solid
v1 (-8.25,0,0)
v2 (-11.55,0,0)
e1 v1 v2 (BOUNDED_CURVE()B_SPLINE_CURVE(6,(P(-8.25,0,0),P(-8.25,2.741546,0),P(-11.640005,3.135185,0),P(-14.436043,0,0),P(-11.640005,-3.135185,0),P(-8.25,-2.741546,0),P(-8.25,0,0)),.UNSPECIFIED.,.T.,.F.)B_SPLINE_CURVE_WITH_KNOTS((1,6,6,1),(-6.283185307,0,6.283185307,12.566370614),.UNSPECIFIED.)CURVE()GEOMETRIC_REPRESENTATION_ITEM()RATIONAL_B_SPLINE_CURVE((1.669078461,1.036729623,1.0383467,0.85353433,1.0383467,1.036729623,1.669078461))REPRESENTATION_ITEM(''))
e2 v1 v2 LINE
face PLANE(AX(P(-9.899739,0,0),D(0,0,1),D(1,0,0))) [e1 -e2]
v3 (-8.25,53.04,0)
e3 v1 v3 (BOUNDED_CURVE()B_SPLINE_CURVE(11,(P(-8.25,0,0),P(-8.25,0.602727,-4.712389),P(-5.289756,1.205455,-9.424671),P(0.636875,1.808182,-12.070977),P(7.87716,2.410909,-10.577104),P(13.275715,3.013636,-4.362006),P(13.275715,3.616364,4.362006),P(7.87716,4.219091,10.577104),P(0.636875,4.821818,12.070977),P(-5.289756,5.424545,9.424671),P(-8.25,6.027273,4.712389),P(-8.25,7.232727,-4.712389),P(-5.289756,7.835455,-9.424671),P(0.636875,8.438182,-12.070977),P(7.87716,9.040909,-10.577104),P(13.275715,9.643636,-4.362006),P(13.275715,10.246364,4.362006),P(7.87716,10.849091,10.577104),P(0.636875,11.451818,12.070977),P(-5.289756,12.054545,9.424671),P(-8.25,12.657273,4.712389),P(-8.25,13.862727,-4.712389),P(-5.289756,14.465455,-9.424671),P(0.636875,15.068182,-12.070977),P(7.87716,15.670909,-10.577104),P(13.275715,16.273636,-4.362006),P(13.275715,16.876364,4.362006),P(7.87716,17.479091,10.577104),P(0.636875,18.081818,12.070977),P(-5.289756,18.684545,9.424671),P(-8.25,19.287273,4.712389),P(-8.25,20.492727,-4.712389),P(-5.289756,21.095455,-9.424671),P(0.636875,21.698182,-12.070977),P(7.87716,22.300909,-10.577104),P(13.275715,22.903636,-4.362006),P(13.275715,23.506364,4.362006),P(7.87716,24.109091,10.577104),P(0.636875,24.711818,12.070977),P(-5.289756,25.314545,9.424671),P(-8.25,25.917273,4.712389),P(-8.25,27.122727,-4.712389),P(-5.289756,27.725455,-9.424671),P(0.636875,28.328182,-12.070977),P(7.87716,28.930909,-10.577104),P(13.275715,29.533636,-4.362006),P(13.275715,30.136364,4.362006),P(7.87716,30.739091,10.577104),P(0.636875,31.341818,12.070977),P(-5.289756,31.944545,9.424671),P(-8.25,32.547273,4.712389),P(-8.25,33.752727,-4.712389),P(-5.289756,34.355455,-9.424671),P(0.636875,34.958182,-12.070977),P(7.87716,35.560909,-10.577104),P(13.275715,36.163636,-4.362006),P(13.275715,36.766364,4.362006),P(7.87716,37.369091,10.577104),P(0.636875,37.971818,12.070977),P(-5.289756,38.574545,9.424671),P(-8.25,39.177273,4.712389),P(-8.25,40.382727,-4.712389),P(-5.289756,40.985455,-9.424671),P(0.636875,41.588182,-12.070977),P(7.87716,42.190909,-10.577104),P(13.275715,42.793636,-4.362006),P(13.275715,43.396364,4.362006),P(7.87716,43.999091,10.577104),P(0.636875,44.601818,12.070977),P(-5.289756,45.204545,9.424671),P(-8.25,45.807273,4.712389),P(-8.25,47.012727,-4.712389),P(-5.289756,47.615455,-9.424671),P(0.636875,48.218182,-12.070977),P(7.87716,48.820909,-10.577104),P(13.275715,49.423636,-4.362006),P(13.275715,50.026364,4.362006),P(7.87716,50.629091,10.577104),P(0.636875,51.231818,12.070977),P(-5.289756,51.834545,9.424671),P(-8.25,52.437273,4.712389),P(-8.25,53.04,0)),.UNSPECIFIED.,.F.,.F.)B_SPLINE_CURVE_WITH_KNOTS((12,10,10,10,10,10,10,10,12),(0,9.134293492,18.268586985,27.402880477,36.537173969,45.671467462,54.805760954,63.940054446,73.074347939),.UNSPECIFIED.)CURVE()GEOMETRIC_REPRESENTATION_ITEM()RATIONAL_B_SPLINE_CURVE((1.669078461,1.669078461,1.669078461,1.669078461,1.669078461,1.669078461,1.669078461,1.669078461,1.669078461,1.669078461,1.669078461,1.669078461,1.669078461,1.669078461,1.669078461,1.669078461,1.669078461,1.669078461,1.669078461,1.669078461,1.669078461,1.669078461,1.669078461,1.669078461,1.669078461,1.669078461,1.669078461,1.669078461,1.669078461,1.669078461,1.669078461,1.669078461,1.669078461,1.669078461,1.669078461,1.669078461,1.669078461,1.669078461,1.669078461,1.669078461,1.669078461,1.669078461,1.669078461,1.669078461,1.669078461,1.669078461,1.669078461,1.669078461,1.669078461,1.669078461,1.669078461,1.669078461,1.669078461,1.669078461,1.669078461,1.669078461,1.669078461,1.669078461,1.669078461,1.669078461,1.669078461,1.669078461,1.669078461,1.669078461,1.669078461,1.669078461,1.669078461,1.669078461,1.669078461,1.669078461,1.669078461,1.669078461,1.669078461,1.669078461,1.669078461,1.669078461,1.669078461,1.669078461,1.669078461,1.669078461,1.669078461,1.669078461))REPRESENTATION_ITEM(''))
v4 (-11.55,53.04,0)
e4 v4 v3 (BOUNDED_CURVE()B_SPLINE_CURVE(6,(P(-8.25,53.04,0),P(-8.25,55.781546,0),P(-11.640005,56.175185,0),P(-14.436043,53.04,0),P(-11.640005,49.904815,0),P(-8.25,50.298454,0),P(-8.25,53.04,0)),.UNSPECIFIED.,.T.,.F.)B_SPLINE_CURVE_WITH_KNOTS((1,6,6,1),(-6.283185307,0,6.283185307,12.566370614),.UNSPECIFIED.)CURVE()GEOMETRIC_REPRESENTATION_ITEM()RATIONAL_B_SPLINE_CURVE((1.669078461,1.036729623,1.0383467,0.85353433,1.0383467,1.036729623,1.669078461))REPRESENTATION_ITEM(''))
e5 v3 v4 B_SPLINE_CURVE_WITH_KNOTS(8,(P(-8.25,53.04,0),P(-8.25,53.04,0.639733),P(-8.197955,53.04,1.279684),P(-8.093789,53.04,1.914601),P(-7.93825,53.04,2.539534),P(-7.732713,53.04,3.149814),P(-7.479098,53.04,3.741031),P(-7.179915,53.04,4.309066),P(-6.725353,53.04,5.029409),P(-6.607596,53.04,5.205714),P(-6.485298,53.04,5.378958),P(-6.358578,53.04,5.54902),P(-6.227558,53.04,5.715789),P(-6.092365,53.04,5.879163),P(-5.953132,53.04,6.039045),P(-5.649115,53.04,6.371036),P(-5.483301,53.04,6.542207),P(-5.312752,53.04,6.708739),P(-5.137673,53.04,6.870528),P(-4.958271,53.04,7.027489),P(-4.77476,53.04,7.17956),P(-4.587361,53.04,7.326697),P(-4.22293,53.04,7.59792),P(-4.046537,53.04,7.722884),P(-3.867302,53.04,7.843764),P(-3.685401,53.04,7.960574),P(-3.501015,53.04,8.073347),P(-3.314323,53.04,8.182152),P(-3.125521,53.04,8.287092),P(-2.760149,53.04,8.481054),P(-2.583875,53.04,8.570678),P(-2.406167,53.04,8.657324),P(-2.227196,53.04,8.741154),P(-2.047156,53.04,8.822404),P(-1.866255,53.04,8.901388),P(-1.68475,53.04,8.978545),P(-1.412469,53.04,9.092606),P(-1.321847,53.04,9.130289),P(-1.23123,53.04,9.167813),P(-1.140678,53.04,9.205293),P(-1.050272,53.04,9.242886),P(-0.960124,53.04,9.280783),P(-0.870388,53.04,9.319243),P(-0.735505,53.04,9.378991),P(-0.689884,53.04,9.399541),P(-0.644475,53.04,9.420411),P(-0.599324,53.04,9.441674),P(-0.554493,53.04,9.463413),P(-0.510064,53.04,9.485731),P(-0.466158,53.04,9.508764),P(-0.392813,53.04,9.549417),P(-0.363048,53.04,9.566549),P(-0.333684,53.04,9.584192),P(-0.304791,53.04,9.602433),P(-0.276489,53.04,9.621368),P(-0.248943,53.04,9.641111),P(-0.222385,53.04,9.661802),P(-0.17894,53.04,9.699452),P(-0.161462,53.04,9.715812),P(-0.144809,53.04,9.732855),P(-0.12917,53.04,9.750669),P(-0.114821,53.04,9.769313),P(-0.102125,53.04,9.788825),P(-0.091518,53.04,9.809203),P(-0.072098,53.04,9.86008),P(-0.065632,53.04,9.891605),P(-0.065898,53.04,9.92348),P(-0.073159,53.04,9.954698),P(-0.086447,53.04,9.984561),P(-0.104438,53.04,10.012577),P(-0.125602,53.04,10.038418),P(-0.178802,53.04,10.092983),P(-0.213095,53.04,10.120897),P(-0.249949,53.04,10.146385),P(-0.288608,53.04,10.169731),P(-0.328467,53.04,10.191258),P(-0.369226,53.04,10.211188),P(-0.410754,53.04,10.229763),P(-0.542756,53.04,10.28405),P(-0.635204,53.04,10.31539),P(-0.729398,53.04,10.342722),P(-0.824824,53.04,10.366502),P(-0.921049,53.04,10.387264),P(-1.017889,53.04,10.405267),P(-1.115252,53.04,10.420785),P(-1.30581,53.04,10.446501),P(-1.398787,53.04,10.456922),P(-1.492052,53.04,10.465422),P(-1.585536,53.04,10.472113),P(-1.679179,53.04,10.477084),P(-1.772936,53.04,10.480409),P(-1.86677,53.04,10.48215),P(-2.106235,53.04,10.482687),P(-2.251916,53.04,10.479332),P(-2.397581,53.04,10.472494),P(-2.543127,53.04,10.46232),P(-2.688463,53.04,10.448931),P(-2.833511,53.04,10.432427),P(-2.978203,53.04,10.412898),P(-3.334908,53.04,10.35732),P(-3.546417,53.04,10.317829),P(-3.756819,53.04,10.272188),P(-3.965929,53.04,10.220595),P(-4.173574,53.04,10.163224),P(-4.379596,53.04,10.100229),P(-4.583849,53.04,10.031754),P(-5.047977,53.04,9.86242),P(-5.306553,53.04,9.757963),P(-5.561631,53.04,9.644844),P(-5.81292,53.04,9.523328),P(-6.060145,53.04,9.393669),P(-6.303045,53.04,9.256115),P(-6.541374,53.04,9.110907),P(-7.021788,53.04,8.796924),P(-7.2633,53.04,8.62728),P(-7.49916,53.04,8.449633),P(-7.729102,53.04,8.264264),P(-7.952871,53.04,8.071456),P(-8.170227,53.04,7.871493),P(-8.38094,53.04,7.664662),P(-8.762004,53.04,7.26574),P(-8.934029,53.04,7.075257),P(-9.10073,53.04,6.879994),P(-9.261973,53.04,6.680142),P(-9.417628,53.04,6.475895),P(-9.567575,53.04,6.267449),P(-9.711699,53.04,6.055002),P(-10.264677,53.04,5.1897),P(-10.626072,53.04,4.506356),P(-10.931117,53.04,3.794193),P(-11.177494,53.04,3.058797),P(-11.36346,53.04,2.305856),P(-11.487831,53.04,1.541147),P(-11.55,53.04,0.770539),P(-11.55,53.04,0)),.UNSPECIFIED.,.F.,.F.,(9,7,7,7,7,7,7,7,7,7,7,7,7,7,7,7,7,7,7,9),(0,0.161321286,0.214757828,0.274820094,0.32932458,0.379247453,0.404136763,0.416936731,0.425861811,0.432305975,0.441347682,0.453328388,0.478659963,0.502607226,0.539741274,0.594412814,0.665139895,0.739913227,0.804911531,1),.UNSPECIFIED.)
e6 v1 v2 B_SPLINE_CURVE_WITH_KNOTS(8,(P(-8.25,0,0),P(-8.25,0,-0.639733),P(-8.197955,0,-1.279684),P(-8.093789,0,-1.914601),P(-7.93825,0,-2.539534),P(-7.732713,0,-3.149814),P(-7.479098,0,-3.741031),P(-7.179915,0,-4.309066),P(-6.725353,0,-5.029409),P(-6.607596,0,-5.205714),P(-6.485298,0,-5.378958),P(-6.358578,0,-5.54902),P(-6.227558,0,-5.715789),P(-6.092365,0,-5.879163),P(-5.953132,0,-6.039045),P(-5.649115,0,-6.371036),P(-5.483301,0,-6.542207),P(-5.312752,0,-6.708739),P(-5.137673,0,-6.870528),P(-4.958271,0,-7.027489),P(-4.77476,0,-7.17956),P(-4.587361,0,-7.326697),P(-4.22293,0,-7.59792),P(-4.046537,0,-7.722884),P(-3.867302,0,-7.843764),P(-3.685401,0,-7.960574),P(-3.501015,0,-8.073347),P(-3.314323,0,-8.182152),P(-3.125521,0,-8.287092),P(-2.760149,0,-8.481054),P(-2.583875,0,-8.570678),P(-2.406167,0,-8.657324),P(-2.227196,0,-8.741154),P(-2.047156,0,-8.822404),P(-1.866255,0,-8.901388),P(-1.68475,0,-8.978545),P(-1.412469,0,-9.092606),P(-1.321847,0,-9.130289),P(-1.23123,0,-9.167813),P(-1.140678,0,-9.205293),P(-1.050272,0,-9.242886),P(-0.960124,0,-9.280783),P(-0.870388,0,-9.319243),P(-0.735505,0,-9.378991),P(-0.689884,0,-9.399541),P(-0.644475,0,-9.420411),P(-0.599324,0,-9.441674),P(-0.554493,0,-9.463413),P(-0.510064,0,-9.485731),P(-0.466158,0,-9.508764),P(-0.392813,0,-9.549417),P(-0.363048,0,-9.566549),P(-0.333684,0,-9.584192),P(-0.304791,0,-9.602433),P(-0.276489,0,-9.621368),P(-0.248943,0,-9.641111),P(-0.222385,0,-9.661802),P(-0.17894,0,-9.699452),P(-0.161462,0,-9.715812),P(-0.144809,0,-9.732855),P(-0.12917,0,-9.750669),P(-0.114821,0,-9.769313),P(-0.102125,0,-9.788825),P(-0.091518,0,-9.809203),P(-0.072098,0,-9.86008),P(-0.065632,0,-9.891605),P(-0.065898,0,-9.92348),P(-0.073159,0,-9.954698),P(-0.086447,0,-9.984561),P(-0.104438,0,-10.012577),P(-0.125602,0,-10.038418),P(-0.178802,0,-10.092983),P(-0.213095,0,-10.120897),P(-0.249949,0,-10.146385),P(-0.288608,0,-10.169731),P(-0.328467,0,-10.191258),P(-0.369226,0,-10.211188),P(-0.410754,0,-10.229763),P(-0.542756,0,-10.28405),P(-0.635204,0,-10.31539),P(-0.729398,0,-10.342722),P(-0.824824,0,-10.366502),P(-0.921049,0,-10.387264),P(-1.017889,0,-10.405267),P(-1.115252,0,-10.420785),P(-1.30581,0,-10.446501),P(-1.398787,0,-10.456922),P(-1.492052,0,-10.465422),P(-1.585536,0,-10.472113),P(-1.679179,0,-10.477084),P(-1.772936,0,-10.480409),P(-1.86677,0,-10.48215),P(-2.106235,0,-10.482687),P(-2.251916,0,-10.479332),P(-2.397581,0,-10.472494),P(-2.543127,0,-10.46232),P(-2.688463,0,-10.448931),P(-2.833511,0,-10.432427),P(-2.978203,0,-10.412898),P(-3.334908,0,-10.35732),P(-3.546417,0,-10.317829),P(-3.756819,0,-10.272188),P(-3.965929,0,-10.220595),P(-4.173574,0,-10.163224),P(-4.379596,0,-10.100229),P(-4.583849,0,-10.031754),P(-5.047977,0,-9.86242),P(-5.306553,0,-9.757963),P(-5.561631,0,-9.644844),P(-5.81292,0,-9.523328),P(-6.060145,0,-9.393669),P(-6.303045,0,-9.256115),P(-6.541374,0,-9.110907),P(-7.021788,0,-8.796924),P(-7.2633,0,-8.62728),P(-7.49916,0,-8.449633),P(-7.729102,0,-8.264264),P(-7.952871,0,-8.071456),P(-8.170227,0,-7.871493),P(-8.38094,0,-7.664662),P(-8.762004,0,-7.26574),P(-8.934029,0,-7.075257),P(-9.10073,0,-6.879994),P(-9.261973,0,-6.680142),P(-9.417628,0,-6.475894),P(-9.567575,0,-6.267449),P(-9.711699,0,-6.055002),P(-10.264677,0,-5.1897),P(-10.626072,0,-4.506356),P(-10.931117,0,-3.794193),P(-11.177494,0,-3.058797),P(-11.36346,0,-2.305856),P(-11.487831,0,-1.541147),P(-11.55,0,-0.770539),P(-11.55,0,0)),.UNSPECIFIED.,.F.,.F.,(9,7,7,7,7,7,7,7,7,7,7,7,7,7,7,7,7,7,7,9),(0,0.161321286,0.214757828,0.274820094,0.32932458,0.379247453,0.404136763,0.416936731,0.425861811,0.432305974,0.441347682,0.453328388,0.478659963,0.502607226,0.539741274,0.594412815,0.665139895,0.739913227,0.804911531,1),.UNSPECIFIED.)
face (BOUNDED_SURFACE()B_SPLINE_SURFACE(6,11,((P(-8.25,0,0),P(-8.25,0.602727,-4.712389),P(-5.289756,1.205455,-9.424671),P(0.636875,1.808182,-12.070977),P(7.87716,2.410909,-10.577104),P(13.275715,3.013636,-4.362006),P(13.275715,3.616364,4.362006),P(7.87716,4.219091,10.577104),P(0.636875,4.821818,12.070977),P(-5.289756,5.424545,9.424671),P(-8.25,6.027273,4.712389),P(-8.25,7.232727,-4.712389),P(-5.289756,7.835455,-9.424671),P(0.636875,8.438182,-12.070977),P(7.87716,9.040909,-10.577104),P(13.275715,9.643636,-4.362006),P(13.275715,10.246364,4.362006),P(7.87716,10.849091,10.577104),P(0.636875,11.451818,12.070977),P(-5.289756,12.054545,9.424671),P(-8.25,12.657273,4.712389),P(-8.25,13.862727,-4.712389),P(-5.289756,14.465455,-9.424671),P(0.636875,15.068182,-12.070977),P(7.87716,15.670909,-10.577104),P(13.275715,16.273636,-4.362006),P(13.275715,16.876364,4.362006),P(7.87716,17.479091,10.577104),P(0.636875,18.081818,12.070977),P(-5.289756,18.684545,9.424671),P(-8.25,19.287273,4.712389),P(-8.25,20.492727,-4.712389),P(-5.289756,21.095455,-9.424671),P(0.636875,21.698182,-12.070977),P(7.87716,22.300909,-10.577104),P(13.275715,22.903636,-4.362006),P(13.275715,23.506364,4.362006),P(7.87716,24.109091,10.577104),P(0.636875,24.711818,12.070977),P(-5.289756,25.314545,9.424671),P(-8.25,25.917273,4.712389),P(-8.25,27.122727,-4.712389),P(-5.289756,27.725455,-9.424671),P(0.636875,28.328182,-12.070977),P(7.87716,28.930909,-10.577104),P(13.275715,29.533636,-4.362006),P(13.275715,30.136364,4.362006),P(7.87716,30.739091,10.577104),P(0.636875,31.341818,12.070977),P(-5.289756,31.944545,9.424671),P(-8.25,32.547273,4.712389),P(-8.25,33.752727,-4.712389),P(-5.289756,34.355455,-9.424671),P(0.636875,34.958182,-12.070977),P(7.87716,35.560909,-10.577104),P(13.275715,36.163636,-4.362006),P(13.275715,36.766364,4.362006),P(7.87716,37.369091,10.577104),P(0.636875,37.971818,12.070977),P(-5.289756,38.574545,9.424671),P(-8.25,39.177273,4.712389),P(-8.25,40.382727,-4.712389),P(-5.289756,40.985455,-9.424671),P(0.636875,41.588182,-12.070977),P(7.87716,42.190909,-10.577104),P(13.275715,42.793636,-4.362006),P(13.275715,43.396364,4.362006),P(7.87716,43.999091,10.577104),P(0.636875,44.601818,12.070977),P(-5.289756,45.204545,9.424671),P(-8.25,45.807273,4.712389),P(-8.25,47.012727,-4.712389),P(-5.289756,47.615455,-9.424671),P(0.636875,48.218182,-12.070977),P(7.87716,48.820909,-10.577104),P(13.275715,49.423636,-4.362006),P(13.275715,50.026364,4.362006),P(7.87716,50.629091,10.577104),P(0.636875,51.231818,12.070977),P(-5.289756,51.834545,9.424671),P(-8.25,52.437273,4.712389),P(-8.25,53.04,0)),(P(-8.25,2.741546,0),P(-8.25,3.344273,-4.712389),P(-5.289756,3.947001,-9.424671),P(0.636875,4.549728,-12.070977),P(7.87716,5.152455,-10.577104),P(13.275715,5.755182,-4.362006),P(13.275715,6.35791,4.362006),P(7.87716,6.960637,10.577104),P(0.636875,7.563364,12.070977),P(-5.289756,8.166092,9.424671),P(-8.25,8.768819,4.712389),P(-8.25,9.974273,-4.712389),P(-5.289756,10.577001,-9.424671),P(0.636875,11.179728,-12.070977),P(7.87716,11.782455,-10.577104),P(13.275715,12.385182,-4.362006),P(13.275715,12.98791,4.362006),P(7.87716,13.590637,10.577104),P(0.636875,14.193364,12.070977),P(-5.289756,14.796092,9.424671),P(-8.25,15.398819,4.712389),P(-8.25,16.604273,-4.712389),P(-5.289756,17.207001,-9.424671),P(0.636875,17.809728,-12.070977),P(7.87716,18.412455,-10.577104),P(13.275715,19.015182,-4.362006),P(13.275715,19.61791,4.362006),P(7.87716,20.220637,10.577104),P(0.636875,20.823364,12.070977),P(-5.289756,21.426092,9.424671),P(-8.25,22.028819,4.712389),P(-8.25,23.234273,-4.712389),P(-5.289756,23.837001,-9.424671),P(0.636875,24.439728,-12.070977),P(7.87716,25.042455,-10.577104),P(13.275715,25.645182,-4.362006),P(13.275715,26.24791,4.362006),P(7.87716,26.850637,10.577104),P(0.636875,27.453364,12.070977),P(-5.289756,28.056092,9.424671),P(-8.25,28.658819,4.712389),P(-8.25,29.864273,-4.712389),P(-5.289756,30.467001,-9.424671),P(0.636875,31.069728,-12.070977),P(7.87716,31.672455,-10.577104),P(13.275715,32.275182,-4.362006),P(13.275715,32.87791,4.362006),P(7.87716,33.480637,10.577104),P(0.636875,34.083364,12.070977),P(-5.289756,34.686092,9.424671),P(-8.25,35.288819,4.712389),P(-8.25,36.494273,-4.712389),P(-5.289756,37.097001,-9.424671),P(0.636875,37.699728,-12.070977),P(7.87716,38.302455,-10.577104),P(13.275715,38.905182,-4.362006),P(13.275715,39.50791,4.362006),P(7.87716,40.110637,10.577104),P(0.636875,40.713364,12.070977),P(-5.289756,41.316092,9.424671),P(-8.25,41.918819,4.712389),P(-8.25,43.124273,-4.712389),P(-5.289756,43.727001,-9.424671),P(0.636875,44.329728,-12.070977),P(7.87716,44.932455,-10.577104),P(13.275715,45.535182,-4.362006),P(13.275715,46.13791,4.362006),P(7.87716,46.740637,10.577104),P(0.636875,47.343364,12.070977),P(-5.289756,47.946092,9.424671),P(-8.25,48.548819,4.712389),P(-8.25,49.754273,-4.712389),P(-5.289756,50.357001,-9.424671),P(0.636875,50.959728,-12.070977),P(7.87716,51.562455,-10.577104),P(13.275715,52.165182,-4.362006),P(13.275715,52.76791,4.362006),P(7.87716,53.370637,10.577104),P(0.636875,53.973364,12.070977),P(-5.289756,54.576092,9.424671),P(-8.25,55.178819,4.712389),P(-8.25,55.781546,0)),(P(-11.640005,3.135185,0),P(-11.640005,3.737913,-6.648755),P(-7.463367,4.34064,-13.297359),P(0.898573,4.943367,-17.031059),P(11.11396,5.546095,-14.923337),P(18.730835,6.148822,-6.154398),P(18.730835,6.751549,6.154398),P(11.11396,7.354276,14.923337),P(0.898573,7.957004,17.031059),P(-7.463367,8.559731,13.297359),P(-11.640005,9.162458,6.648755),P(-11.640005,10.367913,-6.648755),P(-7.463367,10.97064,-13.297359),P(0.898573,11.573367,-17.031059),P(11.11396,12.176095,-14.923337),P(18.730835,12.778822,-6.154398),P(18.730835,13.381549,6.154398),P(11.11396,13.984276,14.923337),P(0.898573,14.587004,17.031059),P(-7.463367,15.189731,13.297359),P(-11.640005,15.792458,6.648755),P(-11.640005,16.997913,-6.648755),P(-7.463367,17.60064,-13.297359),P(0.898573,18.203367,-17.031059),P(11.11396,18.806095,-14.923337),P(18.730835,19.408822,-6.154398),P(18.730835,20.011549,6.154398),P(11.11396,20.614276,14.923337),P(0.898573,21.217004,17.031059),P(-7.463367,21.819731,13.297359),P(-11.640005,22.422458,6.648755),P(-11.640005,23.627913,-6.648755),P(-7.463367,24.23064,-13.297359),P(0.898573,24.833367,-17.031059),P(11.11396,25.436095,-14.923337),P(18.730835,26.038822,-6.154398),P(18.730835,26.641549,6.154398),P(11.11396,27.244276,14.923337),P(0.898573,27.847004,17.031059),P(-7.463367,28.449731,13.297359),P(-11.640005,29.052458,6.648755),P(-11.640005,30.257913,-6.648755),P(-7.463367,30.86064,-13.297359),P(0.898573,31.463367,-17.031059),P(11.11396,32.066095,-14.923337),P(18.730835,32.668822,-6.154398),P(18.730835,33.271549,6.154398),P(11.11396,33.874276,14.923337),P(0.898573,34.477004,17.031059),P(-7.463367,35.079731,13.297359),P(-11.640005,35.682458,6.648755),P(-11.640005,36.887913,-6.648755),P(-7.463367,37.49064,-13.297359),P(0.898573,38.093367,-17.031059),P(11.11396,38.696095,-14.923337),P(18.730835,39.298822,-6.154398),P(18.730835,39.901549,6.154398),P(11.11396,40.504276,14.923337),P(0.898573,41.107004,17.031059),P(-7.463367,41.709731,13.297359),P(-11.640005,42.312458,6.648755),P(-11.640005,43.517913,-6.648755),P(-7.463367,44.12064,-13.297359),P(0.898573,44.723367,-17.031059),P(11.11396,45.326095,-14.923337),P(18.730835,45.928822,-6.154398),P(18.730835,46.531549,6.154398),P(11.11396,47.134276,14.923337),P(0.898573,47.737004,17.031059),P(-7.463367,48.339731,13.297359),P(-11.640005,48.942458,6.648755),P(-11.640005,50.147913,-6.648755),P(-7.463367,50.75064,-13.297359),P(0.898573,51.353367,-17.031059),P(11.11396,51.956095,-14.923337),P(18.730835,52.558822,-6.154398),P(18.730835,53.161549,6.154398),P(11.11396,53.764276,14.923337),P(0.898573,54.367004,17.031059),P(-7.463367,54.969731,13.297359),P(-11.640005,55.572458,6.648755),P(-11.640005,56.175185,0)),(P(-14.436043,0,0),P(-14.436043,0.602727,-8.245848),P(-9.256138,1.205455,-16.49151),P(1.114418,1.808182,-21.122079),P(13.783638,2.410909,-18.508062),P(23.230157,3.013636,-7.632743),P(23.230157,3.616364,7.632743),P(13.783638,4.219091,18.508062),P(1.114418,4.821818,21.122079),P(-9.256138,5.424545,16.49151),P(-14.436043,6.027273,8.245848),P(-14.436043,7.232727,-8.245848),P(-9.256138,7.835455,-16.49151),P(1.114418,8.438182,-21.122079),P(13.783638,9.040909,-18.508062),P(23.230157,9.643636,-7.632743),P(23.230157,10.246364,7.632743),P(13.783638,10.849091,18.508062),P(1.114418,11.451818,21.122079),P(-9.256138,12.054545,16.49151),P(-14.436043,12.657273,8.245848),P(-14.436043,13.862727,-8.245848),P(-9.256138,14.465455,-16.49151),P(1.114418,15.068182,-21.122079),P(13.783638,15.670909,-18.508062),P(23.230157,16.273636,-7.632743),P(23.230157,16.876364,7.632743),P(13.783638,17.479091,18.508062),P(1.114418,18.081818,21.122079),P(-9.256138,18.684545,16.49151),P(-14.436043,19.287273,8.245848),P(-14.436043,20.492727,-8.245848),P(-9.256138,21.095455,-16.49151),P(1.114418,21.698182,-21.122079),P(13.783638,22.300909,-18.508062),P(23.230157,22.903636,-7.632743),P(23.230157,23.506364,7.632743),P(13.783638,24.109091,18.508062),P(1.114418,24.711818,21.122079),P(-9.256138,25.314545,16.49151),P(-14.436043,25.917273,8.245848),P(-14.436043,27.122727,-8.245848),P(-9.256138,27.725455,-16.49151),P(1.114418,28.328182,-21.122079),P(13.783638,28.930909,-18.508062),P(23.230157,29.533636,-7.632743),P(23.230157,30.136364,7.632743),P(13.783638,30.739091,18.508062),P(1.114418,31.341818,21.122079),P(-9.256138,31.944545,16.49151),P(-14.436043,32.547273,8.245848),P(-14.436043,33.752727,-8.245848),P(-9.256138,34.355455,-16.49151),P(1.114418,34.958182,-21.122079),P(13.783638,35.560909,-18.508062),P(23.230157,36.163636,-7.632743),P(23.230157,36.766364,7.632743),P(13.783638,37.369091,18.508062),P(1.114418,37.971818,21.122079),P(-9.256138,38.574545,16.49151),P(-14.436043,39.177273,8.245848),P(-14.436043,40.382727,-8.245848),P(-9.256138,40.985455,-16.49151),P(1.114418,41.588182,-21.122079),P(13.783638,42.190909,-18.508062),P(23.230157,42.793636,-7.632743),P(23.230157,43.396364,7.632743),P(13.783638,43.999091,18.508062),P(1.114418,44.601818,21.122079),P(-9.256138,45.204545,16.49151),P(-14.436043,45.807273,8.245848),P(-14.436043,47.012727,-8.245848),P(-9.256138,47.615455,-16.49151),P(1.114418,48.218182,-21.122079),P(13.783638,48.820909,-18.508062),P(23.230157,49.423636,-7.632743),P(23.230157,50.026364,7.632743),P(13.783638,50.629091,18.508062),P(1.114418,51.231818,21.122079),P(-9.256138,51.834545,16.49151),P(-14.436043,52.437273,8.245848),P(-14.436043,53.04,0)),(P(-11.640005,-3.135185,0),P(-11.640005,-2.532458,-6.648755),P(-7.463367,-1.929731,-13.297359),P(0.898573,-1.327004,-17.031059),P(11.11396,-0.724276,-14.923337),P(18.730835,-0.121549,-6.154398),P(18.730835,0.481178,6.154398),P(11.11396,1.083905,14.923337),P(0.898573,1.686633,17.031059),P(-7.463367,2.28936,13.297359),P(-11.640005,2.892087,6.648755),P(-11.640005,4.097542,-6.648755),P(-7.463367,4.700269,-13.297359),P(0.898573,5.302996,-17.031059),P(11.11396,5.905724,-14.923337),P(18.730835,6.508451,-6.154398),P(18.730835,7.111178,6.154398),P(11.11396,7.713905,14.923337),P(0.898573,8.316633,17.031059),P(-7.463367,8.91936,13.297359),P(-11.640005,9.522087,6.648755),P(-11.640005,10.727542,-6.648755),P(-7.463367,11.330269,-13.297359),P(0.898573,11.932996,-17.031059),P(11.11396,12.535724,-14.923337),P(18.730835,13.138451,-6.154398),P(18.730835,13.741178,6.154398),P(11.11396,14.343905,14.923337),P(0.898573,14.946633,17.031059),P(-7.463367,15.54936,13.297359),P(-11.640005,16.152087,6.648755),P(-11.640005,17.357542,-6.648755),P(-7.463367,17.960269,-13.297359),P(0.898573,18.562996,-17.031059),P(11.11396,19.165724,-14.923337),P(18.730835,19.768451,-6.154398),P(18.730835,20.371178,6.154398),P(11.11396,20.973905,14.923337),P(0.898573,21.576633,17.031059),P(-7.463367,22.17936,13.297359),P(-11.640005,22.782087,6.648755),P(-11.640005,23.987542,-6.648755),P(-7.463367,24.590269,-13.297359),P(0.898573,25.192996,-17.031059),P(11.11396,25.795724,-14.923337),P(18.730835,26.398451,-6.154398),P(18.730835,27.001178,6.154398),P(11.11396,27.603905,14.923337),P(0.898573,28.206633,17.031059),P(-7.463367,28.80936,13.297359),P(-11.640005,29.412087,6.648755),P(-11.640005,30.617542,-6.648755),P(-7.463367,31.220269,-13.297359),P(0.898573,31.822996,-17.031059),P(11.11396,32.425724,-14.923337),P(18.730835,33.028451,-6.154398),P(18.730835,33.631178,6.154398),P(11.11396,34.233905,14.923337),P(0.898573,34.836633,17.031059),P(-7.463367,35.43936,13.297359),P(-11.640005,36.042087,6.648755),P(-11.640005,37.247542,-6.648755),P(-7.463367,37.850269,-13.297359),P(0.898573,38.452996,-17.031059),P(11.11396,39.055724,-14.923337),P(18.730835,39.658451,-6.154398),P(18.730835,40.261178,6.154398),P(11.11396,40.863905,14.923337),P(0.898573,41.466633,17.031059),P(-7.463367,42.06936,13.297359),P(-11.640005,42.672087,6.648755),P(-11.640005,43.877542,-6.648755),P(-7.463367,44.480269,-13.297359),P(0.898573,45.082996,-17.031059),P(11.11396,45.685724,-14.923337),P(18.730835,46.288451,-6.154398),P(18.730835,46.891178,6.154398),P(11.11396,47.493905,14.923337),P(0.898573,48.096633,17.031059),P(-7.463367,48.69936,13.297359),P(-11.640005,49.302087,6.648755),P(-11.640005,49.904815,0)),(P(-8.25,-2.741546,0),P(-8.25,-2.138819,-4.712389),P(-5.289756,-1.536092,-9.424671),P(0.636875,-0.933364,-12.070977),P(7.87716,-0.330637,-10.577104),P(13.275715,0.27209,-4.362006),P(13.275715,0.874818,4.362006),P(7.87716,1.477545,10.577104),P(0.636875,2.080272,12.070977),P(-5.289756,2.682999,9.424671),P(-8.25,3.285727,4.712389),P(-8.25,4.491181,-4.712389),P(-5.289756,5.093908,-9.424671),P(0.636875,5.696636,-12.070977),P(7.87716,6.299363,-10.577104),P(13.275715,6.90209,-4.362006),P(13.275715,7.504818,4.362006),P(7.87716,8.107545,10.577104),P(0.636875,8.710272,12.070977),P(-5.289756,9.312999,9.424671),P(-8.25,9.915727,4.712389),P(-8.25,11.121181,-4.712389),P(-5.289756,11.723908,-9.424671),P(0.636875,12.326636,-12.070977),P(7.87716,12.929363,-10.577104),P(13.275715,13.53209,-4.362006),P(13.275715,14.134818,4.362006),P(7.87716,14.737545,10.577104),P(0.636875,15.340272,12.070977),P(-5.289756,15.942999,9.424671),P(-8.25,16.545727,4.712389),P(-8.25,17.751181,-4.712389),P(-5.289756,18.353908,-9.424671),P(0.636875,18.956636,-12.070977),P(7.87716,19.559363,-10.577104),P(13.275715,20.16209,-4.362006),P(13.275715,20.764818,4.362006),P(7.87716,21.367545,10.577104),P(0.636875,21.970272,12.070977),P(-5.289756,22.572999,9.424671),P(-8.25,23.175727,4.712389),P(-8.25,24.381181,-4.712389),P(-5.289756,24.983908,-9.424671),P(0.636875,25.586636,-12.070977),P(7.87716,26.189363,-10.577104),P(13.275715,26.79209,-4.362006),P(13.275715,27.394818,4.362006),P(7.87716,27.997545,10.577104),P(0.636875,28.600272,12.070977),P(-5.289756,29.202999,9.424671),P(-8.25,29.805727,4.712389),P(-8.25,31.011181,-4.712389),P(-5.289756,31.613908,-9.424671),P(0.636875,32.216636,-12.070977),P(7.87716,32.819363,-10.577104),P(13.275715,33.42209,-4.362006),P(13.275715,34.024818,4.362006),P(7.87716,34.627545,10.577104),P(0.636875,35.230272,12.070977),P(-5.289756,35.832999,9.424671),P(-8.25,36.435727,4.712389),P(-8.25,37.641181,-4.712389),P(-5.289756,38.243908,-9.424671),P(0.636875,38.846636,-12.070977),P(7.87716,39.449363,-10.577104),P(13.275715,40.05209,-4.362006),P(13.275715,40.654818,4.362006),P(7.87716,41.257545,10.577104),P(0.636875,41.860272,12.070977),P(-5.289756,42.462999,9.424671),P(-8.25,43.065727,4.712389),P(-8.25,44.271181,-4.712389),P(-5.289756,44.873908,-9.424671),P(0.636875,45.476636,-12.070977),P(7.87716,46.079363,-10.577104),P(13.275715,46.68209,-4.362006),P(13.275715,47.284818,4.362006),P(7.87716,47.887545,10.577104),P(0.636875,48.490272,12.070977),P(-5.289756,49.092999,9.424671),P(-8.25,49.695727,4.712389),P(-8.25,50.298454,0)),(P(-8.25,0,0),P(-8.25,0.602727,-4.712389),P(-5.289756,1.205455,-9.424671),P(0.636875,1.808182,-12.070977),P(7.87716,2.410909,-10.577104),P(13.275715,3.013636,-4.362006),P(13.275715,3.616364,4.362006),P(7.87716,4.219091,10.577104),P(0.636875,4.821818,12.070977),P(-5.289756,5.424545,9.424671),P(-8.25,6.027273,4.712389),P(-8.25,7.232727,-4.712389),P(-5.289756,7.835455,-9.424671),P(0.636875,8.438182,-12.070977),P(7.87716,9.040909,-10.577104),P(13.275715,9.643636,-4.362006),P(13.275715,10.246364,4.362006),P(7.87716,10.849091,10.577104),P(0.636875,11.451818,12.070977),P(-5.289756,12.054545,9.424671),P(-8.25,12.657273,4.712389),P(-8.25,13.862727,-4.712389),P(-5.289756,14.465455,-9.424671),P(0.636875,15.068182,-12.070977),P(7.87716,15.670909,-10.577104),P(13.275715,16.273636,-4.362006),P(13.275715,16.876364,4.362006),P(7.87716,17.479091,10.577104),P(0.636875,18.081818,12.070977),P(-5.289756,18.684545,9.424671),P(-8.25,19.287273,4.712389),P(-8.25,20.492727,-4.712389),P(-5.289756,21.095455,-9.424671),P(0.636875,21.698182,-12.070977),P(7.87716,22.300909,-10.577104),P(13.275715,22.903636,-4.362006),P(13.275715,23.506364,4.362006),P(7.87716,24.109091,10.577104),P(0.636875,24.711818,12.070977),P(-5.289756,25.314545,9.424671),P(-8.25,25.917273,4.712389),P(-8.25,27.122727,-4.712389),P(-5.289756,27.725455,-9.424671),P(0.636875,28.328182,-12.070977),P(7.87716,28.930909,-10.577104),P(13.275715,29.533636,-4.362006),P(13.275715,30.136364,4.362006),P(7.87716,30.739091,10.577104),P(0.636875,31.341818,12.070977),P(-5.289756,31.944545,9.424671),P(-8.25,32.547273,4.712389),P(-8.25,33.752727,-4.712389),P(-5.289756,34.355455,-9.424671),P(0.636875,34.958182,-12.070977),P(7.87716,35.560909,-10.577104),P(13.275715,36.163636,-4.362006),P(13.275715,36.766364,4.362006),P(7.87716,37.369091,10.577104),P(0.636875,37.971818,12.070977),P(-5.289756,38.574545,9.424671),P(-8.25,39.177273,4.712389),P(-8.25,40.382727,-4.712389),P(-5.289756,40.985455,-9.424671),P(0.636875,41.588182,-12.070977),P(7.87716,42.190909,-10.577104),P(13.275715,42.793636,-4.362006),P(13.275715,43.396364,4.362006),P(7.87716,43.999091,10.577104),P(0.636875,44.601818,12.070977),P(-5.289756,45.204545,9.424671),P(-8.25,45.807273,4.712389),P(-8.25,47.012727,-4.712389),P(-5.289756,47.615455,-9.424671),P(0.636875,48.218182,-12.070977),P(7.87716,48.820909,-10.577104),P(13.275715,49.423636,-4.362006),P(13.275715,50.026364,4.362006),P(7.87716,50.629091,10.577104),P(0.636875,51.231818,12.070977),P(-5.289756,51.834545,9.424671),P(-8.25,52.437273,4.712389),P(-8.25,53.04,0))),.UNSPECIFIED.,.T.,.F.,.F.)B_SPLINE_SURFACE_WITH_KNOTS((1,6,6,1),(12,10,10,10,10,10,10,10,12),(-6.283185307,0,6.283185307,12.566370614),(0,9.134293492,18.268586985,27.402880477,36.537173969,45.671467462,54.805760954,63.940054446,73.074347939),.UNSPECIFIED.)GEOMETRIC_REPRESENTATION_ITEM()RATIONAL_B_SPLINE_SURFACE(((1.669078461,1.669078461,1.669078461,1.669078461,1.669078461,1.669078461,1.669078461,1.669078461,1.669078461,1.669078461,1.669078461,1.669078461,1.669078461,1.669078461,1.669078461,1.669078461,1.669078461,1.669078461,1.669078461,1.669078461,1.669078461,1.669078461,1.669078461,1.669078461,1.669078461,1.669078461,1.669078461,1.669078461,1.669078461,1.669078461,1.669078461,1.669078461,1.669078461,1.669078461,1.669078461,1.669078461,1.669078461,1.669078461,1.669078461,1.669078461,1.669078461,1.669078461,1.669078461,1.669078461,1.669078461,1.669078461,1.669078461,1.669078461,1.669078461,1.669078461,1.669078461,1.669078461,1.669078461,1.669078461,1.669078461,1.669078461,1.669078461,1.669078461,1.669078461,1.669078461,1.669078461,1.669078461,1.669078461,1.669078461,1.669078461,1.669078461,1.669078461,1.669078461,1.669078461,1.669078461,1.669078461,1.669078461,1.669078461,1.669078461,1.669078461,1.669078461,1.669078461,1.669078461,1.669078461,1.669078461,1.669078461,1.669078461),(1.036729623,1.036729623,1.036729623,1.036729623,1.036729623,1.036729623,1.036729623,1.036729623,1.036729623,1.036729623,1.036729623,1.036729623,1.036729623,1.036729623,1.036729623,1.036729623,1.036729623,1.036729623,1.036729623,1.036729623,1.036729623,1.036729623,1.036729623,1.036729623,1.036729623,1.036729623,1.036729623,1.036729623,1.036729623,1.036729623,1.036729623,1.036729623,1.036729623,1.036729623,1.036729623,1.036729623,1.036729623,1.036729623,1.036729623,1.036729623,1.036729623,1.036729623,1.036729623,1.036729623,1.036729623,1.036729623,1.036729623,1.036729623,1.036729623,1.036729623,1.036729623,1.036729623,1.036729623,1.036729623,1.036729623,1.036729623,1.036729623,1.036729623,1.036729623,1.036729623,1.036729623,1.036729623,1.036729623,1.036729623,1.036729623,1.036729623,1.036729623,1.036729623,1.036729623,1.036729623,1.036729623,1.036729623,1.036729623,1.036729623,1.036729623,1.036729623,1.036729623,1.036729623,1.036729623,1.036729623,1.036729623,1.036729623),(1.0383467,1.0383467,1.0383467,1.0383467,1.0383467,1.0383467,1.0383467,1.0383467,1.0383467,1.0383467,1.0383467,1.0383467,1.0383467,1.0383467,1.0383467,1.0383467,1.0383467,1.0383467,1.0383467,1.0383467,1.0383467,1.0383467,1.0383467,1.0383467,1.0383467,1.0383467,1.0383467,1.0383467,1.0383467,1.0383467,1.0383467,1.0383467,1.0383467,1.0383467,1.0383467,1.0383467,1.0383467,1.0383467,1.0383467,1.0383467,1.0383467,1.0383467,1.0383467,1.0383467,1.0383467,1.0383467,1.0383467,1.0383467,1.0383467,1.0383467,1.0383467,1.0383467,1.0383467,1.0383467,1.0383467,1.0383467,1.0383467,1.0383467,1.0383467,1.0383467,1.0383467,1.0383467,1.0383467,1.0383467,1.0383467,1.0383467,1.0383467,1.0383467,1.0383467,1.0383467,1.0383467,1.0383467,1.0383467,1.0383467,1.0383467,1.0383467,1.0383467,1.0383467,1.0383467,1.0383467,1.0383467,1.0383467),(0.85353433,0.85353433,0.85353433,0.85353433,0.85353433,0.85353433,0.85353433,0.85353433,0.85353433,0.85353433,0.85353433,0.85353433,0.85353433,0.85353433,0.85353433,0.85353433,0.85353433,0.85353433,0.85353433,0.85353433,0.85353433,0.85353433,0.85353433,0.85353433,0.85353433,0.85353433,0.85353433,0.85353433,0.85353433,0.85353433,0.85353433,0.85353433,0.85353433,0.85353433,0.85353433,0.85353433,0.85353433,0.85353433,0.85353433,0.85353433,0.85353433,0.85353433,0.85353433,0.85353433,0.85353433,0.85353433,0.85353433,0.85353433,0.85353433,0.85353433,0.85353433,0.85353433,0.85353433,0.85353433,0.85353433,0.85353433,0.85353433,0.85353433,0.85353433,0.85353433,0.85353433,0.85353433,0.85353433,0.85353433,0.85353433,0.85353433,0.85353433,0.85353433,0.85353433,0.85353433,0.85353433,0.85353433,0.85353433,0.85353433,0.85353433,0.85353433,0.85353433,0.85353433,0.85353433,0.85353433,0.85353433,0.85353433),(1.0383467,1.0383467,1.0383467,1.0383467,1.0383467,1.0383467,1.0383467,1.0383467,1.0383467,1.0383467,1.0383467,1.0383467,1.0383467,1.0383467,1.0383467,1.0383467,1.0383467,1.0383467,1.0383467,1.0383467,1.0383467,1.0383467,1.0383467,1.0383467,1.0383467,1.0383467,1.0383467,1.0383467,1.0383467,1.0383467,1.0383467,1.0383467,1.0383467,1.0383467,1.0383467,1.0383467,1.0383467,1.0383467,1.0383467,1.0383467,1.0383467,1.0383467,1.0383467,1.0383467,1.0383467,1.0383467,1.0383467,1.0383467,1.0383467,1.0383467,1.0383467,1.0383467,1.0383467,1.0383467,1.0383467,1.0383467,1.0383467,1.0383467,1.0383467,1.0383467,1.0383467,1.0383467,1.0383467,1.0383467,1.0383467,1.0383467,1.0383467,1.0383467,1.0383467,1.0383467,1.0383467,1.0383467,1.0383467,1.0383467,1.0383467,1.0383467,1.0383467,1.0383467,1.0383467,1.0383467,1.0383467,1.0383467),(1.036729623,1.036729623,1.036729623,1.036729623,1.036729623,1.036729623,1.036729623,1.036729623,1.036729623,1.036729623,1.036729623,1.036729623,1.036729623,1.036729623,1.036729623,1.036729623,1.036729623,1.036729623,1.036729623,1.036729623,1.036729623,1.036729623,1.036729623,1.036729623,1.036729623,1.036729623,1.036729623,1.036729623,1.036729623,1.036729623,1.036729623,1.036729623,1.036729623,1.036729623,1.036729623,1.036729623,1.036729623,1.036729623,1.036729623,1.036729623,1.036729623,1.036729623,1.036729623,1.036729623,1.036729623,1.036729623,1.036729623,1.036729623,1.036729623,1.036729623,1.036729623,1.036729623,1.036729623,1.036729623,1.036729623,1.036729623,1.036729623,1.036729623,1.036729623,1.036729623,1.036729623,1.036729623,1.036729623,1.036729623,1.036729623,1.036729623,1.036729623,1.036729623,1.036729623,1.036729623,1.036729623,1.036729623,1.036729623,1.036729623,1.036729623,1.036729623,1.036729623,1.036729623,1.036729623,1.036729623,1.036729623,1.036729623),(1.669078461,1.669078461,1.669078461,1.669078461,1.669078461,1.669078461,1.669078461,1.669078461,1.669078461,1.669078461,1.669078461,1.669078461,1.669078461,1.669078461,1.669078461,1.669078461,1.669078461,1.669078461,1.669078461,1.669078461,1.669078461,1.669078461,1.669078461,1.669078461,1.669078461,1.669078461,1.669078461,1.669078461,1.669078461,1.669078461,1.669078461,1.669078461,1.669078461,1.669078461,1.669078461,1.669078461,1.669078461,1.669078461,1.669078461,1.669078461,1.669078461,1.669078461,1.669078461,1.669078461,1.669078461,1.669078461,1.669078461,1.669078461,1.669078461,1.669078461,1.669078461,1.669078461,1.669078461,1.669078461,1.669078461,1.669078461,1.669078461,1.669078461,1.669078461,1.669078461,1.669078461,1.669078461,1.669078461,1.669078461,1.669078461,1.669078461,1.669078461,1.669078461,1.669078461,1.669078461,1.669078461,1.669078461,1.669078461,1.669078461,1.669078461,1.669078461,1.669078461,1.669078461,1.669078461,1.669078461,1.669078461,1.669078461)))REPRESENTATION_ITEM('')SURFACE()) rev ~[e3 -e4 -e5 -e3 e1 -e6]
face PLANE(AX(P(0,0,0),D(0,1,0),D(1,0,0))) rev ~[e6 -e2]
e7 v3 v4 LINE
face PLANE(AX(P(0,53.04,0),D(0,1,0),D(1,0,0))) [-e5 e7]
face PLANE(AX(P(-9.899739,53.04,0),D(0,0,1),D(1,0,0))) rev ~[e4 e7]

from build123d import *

# Parameters (mm, degrees)
SWEEP1_PITCH       = 6.63
SWEEP1_HEIGHT      = 53.04
SWEEP1_RADIUS      = 9.9
SWEEP1_START_ANGLE = -90
SKETCH4_R          = 1.65
SKETCH6_R          = 20
CUT_EXTRUDE1_DEPTH = 10
SKETCH9_R          = 15
CUT_EXTRUDE2_DEPTH = 10


with BuildPart() as part:
    # Sweep1: sweep along a helix
    with BuildLine() as sweep1_path:
        add(Helix(SWEEP1_PITCH, SWEEP1_HEIGHT, SWEEP1_RADIUS, center=(0, 0, 0), direction=(0, 1, 0), lefthand=True, mode=Mode.PRIVATE).rotate(Axis((0, 0, 0), (0, 1, 0)), SWEEP1_START_ANGLE))
    # Sketch4 → Sweep1 (sweep)
    with BuildSketch(Plane.XY):
        with Locations((-9.9, 0)):
            Circle(SKETCH4_R)
    sweep(path=sweep1_path.line, is_frenet=True)

    # Sketch6 → Cut-Extrude1 (cut)
    with BuildSketch(Plane(origin=(0, 0, 0), x_dir=(1, 0, 0), z_dir=(0, 1, 0))):
        Circle(SKETCH6_R)
    extrude(amount=-CUT_EXTRUDE1_DEPTH, mode=Mode.SUBTRACT)

    # Sketch9 → Cut-Extrude2 (cut)
    with BuildSketch(Plane(origin=(0, 53.04, 0), x_dir=(1, 0, 0), z_dir=(0, 1, 0))):
        Circle(SKETCH9_R)
    extrude(amount=CUT_EXTRUDE2_DEPTH, mode=Mode.SUBTRACT)


solid = part.part
